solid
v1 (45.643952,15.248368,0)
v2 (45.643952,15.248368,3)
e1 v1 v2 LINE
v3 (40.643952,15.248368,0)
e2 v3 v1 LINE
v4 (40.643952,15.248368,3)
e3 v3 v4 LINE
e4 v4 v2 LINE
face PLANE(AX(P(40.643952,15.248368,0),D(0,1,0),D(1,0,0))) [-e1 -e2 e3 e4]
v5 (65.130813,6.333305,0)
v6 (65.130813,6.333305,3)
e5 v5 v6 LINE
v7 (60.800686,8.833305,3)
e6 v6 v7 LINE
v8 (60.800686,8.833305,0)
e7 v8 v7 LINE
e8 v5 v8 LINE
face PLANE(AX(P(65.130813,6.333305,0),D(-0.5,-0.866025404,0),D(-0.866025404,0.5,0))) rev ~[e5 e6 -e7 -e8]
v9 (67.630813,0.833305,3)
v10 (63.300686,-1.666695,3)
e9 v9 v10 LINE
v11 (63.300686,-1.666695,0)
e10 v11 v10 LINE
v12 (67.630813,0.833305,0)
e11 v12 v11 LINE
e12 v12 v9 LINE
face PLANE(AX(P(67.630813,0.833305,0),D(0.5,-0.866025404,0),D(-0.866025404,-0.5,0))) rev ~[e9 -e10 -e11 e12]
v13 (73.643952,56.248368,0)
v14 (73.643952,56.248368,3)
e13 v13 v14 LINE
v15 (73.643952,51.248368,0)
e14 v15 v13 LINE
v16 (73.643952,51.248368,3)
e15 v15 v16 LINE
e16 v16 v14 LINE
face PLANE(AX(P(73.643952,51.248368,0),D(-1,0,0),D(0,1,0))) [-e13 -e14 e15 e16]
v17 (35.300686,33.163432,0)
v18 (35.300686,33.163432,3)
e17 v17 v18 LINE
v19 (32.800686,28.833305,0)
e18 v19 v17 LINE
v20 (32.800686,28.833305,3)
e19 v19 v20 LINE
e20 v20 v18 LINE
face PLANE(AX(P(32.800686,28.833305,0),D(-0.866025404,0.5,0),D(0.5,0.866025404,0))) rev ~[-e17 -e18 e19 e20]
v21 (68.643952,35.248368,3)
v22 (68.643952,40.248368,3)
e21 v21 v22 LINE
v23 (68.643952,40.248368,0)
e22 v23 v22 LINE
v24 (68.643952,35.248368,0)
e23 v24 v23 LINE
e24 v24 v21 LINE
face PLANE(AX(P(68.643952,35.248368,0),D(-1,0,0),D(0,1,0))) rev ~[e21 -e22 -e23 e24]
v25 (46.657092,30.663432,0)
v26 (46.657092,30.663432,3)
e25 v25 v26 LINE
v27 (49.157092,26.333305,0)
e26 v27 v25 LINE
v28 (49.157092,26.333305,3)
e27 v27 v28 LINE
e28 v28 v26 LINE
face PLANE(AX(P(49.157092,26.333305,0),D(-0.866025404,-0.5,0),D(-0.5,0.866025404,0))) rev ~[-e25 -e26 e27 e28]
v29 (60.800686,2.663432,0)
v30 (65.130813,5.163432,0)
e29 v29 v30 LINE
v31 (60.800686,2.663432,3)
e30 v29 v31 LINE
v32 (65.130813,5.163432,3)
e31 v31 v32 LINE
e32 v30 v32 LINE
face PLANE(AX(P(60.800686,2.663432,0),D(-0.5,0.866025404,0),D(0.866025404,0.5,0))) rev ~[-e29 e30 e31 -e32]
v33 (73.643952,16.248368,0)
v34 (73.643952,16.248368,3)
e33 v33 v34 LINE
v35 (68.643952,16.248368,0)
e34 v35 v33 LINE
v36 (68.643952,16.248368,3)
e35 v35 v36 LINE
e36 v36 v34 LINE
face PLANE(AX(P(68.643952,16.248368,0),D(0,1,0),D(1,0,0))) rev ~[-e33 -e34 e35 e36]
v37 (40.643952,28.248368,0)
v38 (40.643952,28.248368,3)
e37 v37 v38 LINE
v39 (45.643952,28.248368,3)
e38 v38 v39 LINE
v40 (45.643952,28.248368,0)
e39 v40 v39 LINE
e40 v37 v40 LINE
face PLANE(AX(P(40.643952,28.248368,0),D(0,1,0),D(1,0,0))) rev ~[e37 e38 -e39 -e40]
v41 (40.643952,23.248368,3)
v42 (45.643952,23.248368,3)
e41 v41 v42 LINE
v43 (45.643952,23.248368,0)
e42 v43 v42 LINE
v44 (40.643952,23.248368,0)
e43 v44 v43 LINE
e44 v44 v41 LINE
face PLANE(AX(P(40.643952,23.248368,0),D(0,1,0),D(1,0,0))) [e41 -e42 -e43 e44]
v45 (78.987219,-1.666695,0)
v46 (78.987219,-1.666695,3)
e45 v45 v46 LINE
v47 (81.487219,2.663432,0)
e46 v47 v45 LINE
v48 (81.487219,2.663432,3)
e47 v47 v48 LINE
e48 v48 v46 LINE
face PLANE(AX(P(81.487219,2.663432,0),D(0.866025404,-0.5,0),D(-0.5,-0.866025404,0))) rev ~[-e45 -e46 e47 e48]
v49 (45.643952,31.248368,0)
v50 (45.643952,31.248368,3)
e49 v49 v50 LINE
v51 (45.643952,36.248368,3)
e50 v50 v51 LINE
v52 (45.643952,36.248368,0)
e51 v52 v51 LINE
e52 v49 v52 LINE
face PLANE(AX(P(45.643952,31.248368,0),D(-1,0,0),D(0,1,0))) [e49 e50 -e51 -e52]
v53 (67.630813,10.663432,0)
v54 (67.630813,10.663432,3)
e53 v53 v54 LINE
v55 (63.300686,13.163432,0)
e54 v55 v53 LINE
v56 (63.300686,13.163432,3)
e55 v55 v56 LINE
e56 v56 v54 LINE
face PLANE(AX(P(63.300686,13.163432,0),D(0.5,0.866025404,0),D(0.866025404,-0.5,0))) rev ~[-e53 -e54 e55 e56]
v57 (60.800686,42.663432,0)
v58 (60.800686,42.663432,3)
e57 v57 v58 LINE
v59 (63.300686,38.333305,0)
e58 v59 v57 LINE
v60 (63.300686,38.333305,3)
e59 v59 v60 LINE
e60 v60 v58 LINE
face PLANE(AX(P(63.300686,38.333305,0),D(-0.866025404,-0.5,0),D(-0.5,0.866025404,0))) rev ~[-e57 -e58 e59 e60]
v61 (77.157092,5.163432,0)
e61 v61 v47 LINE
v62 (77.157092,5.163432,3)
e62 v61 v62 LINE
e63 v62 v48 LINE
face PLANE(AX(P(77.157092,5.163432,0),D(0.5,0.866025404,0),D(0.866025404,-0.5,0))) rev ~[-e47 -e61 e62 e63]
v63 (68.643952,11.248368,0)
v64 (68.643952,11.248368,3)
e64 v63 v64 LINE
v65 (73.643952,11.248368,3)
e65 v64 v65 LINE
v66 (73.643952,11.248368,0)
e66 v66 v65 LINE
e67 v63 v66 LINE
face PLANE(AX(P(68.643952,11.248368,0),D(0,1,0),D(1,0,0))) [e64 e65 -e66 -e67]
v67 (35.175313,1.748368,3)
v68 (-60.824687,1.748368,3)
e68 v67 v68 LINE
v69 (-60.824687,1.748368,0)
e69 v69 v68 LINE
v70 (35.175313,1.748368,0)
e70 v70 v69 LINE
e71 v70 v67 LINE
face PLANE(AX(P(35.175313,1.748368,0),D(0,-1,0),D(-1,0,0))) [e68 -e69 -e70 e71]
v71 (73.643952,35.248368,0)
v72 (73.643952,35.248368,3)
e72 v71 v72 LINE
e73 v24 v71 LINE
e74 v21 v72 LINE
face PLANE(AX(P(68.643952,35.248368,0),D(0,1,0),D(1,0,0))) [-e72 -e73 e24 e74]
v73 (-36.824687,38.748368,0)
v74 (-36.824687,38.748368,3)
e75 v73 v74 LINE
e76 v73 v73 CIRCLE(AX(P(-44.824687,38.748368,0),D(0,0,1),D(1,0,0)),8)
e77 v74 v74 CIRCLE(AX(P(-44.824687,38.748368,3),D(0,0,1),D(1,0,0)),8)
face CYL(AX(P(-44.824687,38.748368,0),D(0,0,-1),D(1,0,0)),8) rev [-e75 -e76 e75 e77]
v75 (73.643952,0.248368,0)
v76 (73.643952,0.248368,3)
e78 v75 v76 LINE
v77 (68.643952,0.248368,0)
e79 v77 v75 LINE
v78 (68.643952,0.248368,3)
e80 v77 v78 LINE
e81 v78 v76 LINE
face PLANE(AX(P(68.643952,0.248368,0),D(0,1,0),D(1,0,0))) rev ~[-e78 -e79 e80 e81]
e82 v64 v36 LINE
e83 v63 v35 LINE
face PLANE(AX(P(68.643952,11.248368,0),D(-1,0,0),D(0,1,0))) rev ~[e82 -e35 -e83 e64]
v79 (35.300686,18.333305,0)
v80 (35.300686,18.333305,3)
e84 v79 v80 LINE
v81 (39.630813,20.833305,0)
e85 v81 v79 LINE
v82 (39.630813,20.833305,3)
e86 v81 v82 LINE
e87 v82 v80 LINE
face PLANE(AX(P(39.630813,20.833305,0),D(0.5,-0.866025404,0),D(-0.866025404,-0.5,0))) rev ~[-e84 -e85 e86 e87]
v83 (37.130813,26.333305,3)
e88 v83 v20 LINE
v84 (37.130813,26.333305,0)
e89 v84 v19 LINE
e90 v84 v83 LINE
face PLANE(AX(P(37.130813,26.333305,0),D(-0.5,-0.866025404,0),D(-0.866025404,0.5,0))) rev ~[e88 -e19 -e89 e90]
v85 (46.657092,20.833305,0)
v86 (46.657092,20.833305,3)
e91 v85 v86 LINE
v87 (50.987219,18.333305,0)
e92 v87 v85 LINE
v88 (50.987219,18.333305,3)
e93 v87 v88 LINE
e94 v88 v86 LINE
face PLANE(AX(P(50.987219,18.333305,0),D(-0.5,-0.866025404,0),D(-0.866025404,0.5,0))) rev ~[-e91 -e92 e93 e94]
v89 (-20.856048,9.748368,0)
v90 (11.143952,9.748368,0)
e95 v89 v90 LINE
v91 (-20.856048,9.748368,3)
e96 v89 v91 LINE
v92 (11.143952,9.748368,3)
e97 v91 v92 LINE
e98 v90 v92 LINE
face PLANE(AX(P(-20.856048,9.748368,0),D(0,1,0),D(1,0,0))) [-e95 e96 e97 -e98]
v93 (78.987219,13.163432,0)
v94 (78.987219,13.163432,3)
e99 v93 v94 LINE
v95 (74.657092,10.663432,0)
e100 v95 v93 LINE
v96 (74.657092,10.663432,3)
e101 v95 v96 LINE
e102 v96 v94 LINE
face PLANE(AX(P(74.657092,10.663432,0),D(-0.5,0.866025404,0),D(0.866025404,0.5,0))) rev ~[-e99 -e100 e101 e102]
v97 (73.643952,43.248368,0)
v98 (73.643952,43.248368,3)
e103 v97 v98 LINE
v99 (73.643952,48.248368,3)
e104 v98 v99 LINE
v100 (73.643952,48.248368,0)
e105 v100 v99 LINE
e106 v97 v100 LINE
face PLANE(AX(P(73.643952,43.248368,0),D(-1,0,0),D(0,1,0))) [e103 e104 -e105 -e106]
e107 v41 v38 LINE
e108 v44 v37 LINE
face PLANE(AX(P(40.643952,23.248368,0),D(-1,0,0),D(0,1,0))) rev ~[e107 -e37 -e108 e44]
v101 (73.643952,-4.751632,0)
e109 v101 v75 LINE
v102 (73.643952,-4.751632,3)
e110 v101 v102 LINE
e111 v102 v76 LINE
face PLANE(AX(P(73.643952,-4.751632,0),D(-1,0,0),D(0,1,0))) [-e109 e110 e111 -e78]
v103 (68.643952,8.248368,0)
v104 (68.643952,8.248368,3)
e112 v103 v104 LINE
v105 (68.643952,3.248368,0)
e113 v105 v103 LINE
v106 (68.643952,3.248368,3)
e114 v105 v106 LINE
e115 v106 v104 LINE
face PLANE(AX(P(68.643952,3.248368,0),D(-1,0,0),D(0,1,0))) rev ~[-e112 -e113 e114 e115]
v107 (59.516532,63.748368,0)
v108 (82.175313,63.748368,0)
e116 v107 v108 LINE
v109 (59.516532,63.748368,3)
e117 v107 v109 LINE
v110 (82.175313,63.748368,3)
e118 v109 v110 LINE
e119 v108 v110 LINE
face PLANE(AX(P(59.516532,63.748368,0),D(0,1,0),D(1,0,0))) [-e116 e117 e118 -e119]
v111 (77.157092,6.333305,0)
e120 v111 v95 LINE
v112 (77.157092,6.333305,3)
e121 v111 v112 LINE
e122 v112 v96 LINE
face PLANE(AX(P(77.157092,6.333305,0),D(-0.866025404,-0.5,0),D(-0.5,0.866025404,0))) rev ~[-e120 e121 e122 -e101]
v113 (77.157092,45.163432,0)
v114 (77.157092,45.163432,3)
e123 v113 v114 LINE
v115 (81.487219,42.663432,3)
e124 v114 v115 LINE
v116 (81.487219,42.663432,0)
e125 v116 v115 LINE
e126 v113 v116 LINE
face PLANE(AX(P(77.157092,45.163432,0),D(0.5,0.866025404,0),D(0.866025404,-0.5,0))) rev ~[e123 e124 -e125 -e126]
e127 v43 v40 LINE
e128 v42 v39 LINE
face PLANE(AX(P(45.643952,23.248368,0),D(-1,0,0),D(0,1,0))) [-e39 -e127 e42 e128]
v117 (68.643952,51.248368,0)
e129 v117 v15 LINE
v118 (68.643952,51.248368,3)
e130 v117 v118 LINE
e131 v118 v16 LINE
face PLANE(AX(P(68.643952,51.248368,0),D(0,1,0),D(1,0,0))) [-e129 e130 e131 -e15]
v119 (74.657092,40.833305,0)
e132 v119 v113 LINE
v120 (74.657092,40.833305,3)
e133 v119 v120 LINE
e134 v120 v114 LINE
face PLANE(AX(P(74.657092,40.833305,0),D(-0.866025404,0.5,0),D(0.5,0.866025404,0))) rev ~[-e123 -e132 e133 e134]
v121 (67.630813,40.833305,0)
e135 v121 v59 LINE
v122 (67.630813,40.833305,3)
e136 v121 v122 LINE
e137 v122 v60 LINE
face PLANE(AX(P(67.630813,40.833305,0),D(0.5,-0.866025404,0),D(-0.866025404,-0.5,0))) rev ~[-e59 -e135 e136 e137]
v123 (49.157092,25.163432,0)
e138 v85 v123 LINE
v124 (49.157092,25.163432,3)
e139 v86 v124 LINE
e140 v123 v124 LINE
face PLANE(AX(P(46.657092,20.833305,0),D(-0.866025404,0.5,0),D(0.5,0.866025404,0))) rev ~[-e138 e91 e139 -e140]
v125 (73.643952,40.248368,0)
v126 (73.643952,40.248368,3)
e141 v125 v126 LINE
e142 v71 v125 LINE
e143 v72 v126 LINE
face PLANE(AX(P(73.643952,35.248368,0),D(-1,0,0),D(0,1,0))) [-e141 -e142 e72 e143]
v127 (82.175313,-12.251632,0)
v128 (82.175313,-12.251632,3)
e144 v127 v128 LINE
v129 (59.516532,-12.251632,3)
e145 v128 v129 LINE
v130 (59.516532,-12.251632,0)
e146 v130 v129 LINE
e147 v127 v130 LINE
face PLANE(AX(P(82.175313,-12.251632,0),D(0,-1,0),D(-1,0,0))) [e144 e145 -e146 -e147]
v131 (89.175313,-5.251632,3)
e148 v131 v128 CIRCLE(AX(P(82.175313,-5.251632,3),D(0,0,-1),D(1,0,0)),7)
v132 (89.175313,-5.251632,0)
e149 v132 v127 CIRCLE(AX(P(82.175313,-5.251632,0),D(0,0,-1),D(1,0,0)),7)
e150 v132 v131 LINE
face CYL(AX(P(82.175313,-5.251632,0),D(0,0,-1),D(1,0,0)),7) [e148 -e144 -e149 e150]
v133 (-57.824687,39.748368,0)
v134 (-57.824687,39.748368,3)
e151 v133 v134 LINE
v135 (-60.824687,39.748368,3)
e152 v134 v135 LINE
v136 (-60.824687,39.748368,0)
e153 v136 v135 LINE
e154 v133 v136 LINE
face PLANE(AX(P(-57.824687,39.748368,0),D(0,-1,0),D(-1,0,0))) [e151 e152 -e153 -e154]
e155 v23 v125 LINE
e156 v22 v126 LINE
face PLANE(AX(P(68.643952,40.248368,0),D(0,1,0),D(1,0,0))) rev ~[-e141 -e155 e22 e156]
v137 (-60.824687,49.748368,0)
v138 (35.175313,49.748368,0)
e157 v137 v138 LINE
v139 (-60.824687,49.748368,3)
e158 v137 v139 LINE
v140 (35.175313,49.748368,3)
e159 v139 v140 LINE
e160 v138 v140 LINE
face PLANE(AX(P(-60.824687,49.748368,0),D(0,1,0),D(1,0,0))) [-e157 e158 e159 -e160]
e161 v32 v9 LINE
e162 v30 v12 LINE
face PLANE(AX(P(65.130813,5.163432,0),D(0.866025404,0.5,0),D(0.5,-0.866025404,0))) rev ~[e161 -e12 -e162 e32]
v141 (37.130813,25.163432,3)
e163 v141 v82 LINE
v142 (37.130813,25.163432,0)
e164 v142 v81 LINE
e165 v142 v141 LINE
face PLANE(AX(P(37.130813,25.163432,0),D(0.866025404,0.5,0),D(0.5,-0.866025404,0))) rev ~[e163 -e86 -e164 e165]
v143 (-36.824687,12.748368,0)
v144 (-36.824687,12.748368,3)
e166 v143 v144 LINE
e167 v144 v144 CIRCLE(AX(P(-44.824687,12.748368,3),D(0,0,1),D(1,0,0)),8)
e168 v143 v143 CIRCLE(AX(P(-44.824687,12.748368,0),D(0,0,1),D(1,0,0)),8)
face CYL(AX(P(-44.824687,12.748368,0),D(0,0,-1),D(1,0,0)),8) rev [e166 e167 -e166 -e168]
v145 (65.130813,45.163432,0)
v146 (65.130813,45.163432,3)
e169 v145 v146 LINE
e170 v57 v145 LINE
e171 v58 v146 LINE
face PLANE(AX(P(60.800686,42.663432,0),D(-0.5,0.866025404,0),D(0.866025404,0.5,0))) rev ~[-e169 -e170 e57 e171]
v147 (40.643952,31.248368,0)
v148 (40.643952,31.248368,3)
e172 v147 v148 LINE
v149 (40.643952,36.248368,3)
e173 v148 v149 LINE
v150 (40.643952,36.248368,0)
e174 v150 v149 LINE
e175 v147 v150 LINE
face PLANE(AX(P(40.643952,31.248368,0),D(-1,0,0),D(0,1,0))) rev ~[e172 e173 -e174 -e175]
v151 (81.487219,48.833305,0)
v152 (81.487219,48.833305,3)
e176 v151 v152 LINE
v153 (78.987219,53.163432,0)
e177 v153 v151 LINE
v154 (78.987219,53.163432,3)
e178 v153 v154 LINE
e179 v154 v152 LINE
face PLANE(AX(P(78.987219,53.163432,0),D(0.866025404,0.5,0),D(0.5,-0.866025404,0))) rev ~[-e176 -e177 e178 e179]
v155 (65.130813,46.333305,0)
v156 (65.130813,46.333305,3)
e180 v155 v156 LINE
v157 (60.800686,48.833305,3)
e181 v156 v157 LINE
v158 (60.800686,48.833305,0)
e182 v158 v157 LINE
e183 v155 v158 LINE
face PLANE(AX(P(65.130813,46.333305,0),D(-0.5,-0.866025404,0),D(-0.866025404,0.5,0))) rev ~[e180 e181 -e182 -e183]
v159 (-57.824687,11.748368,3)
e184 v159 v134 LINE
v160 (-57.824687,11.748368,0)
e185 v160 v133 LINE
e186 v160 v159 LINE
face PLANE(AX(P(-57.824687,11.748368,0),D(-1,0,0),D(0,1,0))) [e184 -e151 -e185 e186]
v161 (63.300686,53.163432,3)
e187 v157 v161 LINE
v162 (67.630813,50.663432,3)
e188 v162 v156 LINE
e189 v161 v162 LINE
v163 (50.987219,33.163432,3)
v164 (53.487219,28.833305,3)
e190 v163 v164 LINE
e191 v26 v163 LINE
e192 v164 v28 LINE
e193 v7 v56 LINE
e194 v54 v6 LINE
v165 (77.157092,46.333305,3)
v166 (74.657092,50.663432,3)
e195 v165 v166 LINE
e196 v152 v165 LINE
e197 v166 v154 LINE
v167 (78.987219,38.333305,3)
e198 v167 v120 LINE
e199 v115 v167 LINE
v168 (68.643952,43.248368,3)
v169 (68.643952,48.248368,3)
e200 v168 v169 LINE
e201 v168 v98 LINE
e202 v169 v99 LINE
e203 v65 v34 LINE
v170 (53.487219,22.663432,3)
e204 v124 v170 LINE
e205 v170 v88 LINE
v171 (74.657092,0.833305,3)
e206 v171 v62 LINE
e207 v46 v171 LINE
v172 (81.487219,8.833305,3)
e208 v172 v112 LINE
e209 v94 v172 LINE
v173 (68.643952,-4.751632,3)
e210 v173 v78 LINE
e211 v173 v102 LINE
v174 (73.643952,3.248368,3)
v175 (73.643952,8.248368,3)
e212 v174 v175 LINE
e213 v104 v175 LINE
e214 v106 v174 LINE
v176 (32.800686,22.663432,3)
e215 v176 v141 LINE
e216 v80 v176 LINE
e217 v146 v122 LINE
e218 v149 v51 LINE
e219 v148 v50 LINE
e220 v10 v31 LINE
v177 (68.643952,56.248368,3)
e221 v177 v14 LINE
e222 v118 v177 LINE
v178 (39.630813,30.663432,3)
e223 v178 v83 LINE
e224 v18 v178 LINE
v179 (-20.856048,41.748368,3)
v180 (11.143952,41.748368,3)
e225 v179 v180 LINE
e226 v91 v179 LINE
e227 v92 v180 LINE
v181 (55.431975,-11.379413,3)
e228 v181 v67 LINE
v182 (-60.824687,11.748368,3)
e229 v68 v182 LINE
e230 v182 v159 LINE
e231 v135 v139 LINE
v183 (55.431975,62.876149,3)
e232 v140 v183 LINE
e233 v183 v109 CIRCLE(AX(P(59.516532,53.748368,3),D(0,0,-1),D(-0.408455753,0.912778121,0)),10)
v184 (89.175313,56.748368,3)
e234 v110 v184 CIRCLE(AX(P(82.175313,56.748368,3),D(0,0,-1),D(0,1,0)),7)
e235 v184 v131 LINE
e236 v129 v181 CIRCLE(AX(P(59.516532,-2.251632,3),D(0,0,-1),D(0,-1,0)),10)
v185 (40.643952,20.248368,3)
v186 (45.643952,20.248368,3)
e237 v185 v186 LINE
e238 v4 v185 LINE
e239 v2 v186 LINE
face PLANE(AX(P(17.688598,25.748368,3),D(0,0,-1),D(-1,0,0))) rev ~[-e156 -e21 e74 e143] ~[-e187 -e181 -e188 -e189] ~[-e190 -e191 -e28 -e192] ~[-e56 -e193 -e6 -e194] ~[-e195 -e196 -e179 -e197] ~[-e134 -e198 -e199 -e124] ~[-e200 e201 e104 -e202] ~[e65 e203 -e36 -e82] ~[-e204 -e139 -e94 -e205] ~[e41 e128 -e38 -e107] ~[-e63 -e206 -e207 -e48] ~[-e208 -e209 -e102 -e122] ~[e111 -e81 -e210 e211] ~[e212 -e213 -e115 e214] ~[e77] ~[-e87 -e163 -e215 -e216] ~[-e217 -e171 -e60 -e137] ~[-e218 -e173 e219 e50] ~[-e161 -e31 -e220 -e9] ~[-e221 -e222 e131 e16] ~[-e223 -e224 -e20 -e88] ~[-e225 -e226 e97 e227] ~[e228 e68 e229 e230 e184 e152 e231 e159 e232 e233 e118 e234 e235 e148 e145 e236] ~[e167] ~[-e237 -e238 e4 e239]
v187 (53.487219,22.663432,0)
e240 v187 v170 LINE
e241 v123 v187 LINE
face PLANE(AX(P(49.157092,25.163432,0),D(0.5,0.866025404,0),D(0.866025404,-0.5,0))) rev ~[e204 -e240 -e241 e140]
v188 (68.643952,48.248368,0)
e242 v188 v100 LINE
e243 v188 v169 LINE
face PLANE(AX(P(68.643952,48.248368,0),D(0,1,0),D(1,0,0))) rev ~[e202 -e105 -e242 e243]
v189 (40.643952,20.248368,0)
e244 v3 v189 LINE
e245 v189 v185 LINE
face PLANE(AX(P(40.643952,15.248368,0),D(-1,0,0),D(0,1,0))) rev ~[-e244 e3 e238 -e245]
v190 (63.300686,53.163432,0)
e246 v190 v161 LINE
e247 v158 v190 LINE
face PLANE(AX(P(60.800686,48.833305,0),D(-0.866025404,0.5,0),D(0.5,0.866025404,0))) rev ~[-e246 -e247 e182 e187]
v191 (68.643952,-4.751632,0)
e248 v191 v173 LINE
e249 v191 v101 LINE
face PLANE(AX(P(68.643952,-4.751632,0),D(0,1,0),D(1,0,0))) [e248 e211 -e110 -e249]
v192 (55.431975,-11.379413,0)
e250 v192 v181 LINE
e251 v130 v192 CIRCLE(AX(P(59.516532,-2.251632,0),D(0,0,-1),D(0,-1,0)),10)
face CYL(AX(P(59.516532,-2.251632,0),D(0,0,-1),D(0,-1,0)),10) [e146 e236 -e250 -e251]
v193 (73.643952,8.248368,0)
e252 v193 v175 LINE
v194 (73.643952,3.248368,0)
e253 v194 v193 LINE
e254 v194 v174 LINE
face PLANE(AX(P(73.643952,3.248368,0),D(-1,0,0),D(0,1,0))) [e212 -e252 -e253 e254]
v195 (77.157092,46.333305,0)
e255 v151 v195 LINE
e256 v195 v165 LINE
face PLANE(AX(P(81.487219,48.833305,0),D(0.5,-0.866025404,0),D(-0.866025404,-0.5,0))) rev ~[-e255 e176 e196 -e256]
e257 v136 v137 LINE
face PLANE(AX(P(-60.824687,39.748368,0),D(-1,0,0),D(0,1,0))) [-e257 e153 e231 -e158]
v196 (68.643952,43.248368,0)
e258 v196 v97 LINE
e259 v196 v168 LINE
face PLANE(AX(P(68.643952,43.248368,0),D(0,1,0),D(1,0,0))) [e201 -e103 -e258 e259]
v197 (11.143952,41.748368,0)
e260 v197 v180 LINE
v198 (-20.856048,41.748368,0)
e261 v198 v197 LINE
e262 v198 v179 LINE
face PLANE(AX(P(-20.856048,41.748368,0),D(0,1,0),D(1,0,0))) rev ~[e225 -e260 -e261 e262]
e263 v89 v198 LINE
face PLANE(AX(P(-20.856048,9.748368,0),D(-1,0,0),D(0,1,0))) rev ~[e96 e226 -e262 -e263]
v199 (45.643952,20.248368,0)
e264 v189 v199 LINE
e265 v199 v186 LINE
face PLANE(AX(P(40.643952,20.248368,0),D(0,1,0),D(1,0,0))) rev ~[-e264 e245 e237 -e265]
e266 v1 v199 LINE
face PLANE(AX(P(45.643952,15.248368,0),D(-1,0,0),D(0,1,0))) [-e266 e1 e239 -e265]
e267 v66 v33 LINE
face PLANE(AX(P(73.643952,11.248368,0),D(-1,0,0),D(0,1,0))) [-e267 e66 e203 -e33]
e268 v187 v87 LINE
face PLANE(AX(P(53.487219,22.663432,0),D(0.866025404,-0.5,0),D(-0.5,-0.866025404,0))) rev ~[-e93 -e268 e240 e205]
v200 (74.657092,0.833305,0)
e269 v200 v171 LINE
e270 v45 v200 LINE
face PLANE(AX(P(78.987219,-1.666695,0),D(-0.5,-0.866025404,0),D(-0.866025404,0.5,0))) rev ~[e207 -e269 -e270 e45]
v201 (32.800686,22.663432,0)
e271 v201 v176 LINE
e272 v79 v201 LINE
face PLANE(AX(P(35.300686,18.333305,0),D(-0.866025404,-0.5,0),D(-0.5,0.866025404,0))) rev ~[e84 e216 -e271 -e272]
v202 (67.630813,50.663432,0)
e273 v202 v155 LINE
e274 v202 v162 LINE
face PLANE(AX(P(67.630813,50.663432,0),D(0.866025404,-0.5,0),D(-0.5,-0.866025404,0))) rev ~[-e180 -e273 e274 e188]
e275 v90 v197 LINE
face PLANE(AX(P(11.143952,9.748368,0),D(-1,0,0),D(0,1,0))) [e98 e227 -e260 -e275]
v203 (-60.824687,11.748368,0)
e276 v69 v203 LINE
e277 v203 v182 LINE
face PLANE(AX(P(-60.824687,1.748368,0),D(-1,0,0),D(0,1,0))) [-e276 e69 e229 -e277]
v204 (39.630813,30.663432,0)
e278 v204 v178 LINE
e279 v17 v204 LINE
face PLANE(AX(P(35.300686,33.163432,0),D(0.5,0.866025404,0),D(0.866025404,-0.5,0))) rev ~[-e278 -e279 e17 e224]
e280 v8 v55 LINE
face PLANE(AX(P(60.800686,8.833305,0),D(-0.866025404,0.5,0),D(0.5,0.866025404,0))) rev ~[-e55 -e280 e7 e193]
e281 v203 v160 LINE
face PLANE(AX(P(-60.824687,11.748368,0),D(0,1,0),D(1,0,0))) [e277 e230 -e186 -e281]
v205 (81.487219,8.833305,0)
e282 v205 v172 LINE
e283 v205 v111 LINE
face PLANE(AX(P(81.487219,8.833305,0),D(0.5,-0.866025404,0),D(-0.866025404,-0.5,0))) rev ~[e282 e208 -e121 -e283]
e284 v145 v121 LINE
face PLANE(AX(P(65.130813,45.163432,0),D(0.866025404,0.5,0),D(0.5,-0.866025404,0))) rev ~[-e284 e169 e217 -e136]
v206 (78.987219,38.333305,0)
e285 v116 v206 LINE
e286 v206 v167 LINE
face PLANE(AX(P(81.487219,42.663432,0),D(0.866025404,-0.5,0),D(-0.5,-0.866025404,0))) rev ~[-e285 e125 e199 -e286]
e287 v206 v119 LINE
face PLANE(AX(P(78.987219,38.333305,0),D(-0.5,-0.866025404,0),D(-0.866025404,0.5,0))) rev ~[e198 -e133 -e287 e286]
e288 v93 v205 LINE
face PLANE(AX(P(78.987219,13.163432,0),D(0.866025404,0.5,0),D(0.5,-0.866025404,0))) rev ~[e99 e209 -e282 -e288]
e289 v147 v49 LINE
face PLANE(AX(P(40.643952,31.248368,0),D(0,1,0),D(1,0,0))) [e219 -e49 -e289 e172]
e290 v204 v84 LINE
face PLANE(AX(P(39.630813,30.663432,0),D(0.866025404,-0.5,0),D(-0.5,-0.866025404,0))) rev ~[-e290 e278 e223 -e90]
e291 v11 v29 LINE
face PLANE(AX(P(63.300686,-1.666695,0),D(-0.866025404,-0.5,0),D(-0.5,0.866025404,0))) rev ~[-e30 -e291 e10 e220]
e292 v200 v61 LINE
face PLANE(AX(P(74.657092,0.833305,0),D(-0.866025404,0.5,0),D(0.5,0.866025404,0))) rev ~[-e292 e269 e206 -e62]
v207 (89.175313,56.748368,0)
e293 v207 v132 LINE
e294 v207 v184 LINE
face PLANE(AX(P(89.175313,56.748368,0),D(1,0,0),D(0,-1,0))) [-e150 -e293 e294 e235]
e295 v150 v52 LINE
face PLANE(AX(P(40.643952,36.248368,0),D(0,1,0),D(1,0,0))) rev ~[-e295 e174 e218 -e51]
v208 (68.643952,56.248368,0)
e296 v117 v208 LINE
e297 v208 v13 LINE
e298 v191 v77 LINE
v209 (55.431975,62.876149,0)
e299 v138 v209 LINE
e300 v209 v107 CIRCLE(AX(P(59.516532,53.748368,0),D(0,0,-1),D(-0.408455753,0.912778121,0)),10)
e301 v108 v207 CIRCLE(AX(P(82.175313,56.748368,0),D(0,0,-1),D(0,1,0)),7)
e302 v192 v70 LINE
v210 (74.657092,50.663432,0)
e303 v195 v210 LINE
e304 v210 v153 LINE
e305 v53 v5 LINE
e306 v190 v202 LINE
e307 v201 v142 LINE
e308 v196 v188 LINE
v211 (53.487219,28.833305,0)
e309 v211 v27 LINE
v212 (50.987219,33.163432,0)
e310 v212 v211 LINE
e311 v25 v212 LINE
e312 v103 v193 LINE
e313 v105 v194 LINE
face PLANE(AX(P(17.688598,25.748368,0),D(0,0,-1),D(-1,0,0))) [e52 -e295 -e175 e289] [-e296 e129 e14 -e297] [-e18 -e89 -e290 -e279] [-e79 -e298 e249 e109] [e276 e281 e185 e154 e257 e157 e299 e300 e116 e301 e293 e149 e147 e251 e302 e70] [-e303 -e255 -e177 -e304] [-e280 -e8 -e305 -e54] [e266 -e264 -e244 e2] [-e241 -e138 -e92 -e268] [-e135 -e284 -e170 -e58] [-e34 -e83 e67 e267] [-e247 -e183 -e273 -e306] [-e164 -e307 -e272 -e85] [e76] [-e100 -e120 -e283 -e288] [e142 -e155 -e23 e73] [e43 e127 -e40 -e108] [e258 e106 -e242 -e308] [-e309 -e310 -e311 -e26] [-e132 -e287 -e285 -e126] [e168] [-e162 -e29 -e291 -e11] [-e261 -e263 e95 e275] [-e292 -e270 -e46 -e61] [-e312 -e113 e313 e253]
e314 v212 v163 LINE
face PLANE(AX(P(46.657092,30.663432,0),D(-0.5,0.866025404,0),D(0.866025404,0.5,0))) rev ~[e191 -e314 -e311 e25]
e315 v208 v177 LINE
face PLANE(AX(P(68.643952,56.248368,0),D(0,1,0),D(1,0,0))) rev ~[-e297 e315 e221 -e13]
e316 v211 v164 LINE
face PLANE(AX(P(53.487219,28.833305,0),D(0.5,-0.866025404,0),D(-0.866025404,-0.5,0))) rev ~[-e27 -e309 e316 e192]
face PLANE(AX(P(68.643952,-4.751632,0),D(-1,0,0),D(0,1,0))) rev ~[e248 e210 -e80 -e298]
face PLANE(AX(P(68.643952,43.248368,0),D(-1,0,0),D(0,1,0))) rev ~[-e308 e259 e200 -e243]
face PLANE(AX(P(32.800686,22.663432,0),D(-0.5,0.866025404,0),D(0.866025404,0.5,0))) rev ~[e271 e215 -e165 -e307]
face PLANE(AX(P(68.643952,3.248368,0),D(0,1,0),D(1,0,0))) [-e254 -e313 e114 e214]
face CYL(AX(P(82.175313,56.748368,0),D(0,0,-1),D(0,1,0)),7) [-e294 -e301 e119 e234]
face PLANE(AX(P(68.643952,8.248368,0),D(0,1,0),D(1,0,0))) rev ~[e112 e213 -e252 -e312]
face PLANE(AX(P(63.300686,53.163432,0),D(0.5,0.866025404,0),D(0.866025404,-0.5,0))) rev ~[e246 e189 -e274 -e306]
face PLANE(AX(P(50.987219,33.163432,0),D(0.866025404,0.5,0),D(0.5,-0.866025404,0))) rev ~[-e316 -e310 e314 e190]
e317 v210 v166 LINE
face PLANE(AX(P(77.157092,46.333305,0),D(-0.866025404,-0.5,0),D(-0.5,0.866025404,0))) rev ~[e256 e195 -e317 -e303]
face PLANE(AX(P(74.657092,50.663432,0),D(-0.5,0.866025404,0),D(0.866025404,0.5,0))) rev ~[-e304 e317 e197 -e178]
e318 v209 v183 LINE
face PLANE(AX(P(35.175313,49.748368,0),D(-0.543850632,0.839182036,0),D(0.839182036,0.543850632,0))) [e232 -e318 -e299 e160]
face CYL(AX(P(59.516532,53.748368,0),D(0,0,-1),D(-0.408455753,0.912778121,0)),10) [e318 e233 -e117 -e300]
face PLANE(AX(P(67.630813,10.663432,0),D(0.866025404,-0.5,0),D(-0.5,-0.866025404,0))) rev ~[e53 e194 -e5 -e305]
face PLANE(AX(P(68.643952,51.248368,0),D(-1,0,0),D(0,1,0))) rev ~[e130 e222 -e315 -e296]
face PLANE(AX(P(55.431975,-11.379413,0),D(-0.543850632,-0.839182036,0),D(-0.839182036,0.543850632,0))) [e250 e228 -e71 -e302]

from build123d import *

# Parameters (mm, degrees)
MODEL_R                 = 8
MODEL_W                 = 32
MODEL_H                 = 32
MODEL_W_2               = 5
MODEL_H_2               = 5
SALIENTE_EXTRUIR1_DEPTH = 3


with BuildPart() as part:
    # Model → Saliente-Extruir1 (new body)
    with BuildSketch(Plane.XY):
        with BuildLine():
            Line((-57.824686592, 11.748368167), (-57.824686592, 39.748368167))
            Line((-57.824686592, 39.748368167), (-60.824686592, 39.748368167))
            Line((-60.824686592, 39.748368167), (-60.824686592, 49.748368167))
            Line((-60.824686592, 49.748368167), (35.175313408, 49.748368167))
            Line((35.175313408, 49.748368167), (55.431974906, 62.876149377))
            ThreePointArc((55.431974906, 62.876149377), (57.428209194, 63.52788278), (59.516532433, 63.748368167))
            Line((59.516532433, 63.748368167), (82.175313408, 63.748368167))
            ThreePointArc((82.175313408, 63.748368167), (87.125060876, 61.698115636), (89.175313408, 56.748368167))
            Line((89.175313408, 56.748368167), (89.175313408, -5.251631833))
            ThreePointArc((89.175313408, -5.251631833), (87.125060876, -10.201379301), (82.175313408, -12.251631833))
            Line((82.175313408, -12.251631833), (59.516532433, -12.251631833))
            ThreePointArc((59.516532433, -12.251631833), (57.428209194, -12.031146445), (55.431974906, -11.379413042))
            Line((55.431974906, -11.379413042), (35.175313408, 1.748368167))
            Line((35.175313408, 1.748368167), (-60.824686592, 1.748368167))
            Line((-60.824686592, 1.748368167), (-60.824686592, 11.748368167))
            Line((-60.824686592, 11.748368167), (-57.824686592, 11.748368167))
        make_face()
        with Locations((-44.824686592, 12.748368167)):
            Circle(MODEL_R, mode=Mode.SUBTRACT)
        with Locations((-44.824686592, 38.748368167)):
            Circle(MODEL_R, mode=Mode.SUBTRACT)
        with Locations((-4.85604759, 25.748368167)):
            Rectangle(MODEL_W, MODEL_H, mode=Mode.SUBTRACT)
        Polygon((65.130812689, 45.163431677), (67.630812689, 40.833304658), (63.300685671, 38.333304658), (60.800685671, 42.663431677), align=None, mode=Mode.SUBTRACT)
        Polygon((65.130812689, 5.163431677), (67.630812689, 0.833304658), (63.300685671, -1.666695342), (60.800685671, 2.663431677), align=None, mode=Mode.SUBTRACT)
        Polygon((37.130812689, 25.163431677), (39.630812689, 20.833304658), (35.300685671, 18.333304658), (32.800685671, 22.663431677), align=None, mode=Mode.SUBTRACT)
        Polygon((60.800685671, 48.833304658), (63.300685671, 53.163431677), (67.630812689, 50.663431677), (65.130812689, 46.333304658), align=None, mode=Mode.SUBTRACT)
        Polygon((60.800685671, 8.833304658), (63.300685671, 13.163431677), (67.630812689, 10.663431677), (65.130812689, 6.333304658), align=None, mode=Mode.SUBTRACT)
        Polygon((32.800685671, 28.833304658), (35.300685671, 33.163431677), (39.630812689, 30.663431677), (37.130812689, 26.333304658), align=None, mode=Mode.SUBTRACT)
        with Locations((71.14395241, 37.748368167)):
            Rectangle(MODEL_W_2, MODEL_H_2, mode=Mode.SUBTRACT)
        with Locations((71.14395241, -2.251631833)):
            Rectangle(MODEL_W_2, MODEL_H_2, mode=Mode.SUBTRACT)
        with Locations((43.14395241, 17.748368167)):
            Rectangle(MODEL_W_2, MODEL_H_2, mode=Mode.SUBTRACT)
        Polygon((77.157092131, 46.333304658), (74.657092131, 50.663431677), (78.98721915, 53.163431677), (81.48721915, 48.833304658), align=None, mode=Mode.SUBTRACT)
        Polygon((77.157092131, 6.333304658), (74.657092131, 10.663431677), (78.98721915, 13.163431677), (81.48721915, 8.833304658), align=None, mode=Mode.SUBTRACT)
        Polygon((49.157092131, 26.333304658), (46.657092131, 30.663431677), (50.98721915, 33.163431677), (53.48721915, 28.833304658), align=None, mode=Mode.SUBTRACT)
        Polygon((81.48721915, 42.663431677), (78.98721915, 38.333304658), (74.657092131, 40.833304658), (77.157092131, 45.163431677), align=None, mode=Mode.SUBTRACT)
        Polygon((81.48721915, 2.663431677), (78.98721915, -1.666695342), (74.657092131, 0.833304658), (77.157092131, 5.163431677), align=None, mode=Mode.SUBTRACT)
        Polygon((53.48721915, 22.663431677), (50.98721915, 18.333304658), (46.657092131, 20.833304658), (49.157092131, 25.163431677), align=None, mode=Mode.SUBTRACT)
        with Locations((71.14395241, 13.748368167)):
            Rectangle(MODEL_W_2, MODEL_H_2, mode=Mode.SUBTRACT)
        with Locations((43.14395241, 33.748368167)):
            Rectangle(MODEL_W_2, MODEL_H_2, mode=Mode.SUBTRACT)
        with Locations((71.14395241, 53.748368167)):
            Rectangle(MODEL_W_2, MODEL_H_2, mode=Mode.SUBTRACT)
        with Locations((71.14395241, 5.748368167)):
            Rectangle(MODEL_W_2, MODEL_H_2, mode=Mode.SUBTRACT)
        with Locations((43.14395241, 25.748368167)):
            Rectangle(MODEL_W_2, MODEL_H_2, mode=Mode.SUBTRACT)
        with Locations((71.14395241, 45.748368167)):
            Rectangle(MODEL_W_2, MODEL_H_2, mode=Mode.SUBTRACT)
    extrude(amount=SALIENTE_EXTRUIR1_DEPTH)


solid = part.part
